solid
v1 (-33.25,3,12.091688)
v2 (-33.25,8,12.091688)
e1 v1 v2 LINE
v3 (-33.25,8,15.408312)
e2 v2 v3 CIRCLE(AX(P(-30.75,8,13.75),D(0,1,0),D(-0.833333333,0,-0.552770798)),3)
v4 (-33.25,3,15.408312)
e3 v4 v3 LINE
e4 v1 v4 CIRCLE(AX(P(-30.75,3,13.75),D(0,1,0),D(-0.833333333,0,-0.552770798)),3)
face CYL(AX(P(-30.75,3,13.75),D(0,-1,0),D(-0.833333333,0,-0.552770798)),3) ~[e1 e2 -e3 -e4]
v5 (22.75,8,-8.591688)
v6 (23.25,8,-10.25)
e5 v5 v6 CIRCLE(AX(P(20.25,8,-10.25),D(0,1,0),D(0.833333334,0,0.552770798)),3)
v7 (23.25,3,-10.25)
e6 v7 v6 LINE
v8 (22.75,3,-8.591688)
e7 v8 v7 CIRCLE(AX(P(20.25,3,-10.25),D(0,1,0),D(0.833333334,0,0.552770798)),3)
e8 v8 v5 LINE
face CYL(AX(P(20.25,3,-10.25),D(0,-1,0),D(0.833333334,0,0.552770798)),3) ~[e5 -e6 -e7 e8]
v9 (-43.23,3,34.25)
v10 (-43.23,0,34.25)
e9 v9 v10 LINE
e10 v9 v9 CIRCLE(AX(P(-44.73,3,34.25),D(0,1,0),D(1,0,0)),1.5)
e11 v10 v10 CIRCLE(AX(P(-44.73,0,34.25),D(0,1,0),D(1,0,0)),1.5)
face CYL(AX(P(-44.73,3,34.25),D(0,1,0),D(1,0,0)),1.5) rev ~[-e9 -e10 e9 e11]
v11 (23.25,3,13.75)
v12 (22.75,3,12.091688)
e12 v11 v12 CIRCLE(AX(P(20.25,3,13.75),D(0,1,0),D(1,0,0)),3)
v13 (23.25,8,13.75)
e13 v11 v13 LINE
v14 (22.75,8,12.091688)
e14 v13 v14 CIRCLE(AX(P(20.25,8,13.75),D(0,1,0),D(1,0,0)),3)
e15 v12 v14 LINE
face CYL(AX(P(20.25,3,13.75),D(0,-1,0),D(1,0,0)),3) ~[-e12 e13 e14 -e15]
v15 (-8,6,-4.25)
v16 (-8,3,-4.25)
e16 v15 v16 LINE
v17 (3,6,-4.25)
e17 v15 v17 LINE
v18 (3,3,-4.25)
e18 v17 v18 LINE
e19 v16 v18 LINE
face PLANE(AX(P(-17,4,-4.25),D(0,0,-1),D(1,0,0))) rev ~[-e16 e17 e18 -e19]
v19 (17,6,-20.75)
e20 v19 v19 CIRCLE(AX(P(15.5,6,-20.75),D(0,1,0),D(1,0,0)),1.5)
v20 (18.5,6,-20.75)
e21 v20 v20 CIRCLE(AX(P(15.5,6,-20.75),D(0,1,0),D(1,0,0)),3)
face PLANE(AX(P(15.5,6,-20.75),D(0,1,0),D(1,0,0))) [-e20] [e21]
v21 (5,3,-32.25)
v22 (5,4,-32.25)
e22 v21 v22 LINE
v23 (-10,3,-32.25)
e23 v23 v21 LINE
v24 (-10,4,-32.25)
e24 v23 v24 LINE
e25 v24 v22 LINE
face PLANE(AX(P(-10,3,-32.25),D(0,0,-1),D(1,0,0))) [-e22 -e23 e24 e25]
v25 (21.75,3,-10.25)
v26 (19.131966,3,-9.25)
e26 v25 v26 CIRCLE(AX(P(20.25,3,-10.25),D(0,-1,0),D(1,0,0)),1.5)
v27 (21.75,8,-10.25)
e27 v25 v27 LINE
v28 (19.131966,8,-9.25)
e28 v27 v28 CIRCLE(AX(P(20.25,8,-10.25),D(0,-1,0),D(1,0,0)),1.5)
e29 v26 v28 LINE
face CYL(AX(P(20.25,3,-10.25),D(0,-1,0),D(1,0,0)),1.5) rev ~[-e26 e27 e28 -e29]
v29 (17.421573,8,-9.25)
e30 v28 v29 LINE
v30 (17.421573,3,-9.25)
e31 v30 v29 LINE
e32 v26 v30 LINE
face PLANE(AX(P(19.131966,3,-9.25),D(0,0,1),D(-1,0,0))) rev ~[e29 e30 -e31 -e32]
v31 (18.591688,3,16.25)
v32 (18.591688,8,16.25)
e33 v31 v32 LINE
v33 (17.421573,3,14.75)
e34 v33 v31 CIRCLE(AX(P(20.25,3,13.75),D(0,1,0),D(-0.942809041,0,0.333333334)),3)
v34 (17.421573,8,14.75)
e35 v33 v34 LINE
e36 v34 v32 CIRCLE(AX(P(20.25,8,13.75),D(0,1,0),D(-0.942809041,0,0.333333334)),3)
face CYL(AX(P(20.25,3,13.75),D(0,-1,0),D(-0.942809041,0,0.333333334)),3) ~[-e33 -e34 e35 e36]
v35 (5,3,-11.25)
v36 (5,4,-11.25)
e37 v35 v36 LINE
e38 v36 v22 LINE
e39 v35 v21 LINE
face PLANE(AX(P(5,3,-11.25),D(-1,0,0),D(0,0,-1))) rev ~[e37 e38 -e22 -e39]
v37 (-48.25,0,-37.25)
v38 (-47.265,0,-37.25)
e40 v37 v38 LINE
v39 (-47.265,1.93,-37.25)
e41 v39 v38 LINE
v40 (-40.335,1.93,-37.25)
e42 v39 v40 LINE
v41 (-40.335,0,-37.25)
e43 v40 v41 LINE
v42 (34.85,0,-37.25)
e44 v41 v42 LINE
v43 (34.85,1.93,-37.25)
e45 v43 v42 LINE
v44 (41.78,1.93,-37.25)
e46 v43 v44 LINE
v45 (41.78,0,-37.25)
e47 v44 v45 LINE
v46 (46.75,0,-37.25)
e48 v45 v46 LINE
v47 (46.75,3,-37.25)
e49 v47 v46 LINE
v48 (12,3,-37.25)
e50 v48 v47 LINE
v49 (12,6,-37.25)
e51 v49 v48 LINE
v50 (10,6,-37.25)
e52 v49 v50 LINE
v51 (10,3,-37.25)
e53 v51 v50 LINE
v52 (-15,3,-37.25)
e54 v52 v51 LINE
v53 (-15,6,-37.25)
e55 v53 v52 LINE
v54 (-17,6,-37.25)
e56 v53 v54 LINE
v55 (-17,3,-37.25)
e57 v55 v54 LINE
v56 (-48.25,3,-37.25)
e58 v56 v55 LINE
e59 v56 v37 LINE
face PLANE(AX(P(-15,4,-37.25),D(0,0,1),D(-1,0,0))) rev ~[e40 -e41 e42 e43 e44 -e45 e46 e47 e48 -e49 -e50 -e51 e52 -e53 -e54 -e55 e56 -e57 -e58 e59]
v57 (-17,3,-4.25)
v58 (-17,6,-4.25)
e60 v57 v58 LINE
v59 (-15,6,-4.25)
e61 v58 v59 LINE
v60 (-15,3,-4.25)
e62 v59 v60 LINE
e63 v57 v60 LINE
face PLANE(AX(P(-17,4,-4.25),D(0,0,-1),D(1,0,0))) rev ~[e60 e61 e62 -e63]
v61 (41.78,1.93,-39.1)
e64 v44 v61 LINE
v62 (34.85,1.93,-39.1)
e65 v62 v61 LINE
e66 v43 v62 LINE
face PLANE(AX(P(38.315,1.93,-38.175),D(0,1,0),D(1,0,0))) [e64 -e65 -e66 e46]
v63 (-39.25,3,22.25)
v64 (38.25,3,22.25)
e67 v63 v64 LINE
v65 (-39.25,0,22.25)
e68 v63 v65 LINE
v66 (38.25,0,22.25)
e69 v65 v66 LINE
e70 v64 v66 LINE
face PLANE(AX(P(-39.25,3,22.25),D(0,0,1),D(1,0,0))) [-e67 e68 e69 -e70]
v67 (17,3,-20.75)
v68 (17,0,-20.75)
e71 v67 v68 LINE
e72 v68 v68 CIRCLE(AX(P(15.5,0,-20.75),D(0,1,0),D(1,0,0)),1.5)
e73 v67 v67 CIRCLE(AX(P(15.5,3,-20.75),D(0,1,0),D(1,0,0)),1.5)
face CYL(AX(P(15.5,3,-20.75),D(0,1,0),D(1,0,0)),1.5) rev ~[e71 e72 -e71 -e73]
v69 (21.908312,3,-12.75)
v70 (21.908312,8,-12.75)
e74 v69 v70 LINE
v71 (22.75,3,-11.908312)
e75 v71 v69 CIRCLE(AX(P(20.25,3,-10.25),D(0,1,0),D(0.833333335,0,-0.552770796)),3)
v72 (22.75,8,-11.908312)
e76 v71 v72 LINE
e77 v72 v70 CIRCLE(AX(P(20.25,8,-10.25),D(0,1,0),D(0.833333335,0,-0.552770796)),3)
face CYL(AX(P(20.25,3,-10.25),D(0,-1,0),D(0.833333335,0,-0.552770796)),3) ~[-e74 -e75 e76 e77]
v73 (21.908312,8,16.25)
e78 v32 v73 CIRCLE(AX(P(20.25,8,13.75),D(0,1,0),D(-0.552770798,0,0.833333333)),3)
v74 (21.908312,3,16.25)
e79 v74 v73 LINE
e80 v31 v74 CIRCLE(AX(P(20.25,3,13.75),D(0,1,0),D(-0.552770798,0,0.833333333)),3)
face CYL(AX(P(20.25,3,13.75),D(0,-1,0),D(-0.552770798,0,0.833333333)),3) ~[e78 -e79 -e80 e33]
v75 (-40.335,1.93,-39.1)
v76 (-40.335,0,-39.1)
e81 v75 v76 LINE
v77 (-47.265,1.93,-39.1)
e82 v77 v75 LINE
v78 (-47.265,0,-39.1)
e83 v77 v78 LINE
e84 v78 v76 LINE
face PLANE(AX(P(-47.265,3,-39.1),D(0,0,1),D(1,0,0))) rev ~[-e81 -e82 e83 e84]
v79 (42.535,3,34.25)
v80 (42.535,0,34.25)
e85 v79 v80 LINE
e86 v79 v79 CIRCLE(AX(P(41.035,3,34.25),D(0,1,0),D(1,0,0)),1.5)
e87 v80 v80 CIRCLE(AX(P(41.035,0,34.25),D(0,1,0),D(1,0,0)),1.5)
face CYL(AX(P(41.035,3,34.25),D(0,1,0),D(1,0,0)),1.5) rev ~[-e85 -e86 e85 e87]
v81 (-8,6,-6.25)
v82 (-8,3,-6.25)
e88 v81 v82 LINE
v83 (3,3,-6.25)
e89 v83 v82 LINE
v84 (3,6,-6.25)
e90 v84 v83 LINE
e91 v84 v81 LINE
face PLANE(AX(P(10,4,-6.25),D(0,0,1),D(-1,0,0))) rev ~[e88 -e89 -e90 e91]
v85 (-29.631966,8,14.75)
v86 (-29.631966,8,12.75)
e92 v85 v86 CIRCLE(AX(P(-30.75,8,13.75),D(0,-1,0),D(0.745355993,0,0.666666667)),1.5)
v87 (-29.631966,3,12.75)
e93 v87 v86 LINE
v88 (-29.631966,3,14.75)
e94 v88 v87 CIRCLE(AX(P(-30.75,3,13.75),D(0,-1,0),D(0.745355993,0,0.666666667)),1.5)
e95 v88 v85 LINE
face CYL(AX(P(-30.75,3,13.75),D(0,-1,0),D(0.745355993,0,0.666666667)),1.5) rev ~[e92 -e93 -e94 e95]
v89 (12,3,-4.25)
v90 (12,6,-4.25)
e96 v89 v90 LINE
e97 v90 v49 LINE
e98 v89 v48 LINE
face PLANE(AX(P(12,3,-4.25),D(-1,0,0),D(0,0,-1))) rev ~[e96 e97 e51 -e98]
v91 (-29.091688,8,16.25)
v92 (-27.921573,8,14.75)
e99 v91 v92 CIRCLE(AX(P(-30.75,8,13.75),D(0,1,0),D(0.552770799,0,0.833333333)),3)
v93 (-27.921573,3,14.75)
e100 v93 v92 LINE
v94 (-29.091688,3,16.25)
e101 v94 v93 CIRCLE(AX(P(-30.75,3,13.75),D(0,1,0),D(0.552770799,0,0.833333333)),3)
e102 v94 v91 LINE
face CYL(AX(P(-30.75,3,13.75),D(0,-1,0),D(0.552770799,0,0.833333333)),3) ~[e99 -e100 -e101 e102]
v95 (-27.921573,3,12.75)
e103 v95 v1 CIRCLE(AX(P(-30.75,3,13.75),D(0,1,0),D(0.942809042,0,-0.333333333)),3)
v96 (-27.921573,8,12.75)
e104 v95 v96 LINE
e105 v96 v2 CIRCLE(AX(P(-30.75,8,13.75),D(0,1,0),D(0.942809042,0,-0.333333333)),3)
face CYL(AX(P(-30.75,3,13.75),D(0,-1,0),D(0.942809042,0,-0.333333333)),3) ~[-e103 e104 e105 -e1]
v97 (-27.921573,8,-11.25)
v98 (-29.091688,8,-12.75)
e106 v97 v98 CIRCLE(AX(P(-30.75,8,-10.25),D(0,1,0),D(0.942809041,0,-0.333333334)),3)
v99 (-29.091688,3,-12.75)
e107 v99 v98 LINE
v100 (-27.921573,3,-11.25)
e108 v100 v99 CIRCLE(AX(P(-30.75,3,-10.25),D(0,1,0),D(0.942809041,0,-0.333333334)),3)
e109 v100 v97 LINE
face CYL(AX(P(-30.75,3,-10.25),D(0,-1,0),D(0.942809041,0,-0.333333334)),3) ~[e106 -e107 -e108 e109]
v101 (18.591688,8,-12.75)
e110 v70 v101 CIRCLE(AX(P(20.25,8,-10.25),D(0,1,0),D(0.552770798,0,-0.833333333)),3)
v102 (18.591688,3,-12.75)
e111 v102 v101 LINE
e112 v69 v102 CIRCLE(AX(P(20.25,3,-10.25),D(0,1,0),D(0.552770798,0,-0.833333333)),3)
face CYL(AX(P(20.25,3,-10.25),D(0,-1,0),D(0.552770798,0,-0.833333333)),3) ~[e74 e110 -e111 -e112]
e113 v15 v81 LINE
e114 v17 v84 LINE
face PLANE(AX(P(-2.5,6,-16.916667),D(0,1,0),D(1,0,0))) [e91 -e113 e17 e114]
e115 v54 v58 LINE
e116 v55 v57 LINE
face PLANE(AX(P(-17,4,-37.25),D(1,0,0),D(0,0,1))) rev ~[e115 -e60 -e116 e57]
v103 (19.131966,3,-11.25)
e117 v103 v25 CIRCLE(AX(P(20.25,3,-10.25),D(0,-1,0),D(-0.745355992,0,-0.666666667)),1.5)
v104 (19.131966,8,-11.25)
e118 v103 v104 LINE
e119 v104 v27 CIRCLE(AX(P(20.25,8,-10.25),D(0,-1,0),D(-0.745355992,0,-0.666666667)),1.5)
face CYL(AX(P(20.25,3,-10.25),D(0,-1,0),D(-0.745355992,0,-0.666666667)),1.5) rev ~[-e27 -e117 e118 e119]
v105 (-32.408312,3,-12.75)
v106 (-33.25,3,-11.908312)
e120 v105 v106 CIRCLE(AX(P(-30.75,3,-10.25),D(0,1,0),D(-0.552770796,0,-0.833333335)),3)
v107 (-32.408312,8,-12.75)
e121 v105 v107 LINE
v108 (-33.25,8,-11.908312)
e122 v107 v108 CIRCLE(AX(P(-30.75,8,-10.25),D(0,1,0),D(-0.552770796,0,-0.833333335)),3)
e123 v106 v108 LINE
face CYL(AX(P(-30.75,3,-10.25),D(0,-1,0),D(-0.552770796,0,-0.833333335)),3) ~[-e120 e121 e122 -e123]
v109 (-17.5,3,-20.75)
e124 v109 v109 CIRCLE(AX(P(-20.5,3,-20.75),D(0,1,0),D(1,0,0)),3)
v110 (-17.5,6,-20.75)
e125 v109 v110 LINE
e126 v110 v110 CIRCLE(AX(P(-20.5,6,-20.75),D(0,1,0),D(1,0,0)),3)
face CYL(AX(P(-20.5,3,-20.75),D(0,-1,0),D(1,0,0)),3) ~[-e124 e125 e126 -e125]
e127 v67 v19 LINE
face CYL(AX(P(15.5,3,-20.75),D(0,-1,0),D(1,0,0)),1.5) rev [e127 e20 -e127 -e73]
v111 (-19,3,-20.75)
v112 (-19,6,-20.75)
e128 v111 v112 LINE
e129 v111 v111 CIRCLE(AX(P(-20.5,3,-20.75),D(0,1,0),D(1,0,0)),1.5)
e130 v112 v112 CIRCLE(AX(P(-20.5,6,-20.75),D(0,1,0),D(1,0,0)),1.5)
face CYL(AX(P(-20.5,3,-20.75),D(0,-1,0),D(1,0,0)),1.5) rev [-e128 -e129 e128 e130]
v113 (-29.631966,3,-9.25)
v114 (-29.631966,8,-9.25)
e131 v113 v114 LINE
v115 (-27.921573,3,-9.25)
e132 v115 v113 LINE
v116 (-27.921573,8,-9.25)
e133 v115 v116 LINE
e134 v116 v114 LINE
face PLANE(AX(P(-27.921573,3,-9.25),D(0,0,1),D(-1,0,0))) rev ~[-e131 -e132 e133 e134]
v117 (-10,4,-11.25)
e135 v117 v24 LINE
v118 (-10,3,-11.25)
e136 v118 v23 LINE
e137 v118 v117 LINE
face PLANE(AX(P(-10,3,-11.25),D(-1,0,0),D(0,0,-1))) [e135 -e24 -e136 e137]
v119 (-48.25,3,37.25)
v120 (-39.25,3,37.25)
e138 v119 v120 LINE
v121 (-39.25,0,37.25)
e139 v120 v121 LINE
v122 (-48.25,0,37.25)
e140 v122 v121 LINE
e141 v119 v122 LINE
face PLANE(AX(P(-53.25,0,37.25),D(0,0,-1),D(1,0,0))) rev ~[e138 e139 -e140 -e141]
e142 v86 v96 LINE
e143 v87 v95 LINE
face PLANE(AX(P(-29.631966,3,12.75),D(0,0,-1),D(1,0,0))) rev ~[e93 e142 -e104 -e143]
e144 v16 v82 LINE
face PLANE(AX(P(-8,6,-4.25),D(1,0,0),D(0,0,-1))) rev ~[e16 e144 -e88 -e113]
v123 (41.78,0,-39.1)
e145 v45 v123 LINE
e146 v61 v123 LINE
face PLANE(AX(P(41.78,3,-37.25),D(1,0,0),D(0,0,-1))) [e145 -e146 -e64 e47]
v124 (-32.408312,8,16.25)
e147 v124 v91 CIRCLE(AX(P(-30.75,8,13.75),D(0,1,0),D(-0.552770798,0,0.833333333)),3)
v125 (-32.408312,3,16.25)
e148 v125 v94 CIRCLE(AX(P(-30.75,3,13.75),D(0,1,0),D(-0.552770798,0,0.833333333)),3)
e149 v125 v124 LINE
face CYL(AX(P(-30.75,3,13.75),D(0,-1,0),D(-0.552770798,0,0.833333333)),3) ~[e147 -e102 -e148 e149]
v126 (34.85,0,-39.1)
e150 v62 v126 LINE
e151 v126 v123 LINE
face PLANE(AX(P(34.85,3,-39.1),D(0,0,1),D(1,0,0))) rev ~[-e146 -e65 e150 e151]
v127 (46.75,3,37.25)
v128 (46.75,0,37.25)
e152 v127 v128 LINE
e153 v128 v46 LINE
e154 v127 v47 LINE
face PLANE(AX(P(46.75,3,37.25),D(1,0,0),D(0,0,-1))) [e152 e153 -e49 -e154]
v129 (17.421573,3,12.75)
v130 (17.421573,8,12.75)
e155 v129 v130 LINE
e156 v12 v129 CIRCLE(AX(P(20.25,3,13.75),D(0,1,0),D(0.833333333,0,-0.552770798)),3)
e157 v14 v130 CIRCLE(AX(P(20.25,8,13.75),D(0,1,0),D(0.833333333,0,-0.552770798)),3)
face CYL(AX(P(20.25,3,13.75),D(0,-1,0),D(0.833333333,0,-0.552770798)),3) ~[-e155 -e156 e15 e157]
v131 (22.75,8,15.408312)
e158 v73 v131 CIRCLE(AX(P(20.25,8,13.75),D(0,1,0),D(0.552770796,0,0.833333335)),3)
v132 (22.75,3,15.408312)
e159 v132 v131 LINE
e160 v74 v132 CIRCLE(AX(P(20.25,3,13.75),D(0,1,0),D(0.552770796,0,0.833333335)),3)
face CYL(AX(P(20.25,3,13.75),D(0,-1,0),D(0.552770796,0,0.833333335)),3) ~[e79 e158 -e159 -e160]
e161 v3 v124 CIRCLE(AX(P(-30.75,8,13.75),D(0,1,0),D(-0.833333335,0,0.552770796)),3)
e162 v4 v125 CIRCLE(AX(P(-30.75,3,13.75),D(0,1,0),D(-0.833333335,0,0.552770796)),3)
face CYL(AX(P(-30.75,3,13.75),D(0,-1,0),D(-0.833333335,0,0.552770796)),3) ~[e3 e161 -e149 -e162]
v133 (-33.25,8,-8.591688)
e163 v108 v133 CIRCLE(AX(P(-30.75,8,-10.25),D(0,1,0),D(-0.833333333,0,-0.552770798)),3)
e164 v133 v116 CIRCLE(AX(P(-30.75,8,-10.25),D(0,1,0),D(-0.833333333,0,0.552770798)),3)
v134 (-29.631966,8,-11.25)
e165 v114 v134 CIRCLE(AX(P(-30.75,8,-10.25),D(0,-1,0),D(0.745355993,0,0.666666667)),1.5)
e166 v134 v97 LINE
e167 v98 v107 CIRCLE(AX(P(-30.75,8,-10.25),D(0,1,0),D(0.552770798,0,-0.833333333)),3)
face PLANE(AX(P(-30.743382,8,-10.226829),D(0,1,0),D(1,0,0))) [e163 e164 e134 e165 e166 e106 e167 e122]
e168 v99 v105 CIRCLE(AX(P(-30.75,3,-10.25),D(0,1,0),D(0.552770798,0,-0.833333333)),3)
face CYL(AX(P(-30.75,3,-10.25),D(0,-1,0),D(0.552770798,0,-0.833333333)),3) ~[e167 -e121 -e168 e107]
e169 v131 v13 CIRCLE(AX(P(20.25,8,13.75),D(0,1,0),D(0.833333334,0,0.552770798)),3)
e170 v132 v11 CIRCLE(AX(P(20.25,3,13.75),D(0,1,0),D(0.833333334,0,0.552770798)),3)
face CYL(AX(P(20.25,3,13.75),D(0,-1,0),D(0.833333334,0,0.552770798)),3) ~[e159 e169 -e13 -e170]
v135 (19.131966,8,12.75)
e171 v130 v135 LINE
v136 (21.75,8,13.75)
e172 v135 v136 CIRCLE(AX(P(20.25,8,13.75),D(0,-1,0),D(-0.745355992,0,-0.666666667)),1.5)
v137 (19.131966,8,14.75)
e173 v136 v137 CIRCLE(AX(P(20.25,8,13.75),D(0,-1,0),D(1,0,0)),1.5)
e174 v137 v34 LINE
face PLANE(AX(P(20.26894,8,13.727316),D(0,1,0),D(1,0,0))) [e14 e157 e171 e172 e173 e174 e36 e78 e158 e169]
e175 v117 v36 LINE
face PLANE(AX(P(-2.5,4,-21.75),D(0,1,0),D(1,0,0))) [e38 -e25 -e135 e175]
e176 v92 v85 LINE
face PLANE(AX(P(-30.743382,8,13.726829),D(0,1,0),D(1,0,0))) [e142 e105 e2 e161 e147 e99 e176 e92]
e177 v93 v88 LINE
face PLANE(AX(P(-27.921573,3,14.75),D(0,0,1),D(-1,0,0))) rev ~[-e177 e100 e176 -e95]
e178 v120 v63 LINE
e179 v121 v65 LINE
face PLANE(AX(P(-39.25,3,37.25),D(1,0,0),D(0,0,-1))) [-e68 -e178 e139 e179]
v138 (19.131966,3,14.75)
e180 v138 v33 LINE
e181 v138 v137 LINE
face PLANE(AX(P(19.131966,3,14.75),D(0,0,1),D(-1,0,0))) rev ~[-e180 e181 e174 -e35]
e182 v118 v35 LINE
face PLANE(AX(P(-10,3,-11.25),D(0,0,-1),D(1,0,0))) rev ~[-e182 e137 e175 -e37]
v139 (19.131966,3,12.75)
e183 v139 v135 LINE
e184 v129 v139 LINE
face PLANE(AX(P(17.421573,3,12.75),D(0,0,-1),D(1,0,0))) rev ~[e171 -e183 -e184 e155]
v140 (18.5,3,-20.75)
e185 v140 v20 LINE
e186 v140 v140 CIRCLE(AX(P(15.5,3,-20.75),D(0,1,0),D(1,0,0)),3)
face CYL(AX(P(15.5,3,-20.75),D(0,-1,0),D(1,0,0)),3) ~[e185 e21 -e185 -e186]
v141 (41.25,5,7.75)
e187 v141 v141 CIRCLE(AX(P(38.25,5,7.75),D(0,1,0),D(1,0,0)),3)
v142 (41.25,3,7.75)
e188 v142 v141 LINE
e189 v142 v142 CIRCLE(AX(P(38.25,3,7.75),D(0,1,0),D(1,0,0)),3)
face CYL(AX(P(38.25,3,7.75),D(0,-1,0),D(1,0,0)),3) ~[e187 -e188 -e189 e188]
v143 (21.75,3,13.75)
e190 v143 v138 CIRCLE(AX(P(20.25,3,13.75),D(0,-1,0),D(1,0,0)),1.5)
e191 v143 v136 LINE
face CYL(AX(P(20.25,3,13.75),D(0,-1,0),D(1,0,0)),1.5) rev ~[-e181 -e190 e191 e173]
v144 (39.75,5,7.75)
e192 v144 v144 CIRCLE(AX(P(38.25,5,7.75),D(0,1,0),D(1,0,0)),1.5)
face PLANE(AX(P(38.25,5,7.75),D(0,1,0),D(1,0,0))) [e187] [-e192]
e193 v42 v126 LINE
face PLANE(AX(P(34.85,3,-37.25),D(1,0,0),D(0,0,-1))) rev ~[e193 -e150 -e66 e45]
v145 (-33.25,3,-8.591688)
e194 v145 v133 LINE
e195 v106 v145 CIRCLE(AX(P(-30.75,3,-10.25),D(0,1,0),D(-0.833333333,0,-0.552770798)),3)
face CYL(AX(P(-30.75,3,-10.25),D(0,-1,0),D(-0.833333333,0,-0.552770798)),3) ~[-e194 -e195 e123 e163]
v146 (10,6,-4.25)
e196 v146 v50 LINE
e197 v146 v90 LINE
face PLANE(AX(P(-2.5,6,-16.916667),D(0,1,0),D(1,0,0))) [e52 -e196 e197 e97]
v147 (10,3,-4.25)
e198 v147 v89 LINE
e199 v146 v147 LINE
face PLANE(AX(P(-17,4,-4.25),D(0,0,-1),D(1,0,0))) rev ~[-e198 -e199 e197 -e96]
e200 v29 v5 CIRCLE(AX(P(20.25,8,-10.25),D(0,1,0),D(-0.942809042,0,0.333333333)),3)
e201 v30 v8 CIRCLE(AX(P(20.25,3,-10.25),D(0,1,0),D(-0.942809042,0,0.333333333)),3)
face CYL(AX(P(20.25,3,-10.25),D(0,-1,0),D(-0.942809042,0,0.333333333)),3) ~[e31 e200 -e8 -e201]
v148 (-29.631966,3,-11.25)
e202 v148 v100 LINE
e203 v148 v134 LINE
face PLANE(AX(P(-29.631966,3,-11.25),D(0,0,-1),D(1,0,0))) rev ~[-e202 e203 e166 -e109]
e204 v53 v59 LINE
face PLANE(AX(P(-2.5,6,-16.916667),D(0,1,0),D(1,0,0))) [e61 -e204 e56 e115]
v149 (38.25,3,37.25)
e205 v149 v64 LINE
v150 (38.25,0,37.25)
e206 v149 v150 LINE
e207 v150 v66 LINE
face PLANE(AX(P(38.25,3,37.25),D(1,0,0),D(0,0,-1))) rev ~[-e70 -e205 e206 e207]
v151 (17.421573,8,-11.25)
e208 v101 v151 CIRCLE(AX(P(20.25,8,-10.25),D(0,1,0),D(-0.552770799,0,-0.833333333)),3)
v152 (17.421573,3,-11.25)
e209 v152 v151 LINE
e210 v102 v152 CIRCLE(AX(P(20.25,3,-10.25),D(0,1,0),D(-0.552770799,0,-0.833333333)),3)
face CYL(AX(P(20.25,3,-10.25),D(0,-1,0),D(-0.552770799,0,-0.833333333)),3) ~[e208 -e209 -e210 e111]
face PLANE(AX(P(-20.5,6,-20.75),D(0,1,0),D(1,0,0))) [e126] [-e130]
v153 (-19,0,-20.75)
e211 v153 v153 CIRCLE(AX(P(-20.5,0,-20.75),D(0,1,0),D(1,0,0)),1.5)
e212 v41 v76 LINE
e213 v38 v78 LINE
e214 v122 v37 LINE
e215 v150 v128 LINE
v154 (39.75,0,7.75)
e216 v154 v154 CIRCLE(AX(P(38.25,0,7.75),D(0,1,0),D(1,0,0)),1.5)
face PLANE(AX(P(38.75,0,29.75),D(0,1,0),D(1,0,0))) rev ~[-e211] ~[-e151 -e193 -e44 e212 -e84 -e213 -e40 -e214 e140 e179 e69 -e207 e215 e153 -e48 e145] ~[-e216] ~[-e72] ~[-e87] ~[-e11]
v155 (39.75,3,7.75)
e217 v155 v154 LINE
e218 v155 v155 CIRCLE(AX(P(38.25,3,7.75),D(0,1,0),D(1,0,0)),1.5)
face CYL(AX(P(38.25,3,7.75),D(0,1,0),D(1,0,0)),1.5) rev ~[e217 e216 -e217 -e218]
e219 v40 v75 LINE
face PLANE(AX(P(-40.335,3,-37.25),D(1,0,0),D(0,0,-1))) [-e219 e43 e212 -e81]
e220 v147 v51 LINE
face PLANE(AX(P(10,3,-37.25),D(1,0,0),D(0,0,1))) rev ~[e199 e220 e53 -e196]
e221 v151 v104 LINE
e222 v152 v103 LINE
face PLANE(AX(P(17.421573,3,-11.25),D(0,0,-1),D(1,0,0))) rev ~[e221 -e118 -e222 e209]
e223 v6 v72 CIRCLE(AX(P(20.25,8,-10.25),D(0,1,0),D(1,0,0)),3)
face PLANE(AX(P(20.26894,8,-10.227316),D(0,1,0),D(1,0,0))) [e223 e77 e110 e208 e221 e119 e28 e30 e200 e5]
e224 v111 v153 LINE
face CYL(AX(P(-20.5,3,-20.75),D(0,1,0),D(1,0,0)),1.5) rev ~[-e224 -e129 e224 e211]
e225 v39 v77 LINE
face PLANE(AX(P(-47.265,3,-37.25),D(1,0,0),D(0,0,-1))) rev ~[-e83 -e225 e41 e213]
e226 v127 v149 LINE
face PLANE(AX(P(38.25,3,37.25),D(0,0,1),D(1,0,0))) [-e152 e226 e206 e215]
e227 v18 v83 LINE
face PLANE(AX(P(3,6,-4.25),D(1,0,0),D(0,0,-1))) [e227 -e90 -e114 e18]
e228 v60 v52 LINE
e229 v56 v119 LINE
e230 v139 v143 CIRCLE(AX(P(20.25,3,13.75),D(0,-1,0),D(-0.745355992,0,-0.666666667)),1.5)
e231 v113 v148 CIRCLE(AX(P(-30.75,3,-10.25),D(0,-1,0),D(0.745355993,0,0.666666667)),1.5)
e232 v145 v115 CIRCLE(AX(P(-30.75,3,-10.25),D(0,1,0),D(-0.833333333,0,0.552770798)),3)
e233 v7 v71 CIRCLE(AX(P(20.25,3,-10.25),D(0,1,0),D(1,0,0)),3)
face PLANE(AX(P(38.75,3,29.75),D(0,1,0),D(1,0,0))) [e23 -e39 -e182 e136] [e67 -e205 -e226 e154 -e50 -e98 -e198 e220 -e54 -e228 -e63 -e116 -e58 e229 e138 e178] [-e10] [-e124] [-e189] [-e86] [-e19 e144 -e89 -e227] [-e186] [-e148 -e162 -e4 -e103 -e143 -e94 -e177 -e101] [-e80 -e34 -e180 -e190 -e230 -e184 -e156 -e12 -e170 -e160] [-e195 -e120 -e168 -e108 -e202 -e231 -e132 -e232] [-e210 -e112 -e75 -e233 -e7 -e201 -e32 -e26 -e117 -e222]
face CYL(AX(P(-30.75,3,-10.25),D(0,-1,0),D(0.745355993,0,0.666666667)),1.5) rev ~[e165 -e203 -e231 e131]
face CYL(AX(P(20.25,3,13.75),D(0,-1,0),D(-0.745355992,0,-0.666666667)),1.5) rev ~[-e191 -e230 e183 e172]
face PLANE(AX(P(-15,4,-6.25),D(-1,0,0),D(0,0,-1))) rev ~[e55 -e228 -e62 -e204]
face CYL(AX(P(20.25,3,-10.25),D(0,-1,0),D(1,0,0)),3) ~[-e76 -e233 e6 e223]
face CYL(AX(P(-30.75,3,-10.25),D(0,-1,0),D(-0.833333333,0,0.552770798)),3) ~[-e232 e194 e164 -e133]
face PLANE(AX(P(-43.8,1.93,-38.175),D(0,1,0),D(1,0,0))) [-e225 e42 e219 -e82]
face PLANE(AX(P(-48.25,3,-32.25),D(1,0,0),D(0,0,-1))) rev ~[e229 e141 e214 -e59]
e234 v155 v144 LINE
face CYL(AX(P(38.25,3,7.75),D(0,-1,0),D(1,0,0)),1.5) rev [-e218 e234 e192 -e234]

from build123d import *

# Parameters (mm, degrees)
SKETCH1_W            = 106.5
SKETCH1_H            = 74.5
BOSS_EXTRUDE1_DEPTH  = 3
SKETCH2_W            = 6.93
SKETCH2_H            = 1.85
BOSS_EXTRUDE2_DEPTH  = 3
SKETCH3_W            = 6.93
SKETCH3_H            = 1.85
CUT_EXTRUDE1_DEPTH   = 1.07
SKETCH4_W            = 5
SKETCH4_H            = 64.5
SKETCH4_W_2          = 78.5
SKETCH4_H_2          = 15
CUT_EXTRUDE2_DEPTH   = 3
SKETCH5_R            = 3.5
CUT_EXTRUDE3_DEPTH   = 3
BOSS_EXTRUDE5_DEPTH  = 5
SKETCH9_R            = 3
SKETCH9_R_2          = 1.5
BOSS_EXTRUDE6_DEPTH  = 2
SKETCH10_W           = 15
SKETCH10_H           = 21
BOSS_EXTRUDE7_DEPTH  = 1
BOSS_EXTRUDE8_DEPTH  = 2
SKETCH12_W           = 5
SKETCH12_H           = 5
CUT_EXTRUDE4_DEPTH   = 4
SKETCH14_W           = 4
SKETCH14_H           = 75.31405771
CUT_EXTRUDE5_DEPTH   = 10
SKETCH15_R           = 3
SKETCH15_R_2         = 1.5
BOSS_EXTRUDE9_DEPTH  = 3
SKETCH16_R           = 1.5
CUT_EXTRUDE6_DEPTH   = 3
SKETCH17_R           = 1.5
CUT_EXTRUDE7_DEPTH   = 3
SKETCH18_W           = 7
SKETCH18_H           = 2
CUT_EXTRUDE8_DEPTH   = 3
SKETCH19_R           = 1.5
CUT_EXTRUDE9_DEPTH   = 3
SKETCH20_W           = 3
SKETCH20_H           = 74.5
CUT_EXTRUDE10_DEPTH  = 8
SKETCH21_W           = 1
SKETCH21_H           = 15
BOSS_EXTRUDE10_DEPTH = 3


with BuildPart() as part:
    # Sketch1 → Boss-Extrude1 (new body)
    with BuildSketch(Plane(origin=(0, 0, 0), x_dir=(1, 0, 0), z_dir=(0, 1, 0))):
        Rectangle(SKETCH1_W, SKETCH1_H)
    extrude(amount=BOSS_EXTRUDE1_DEPTH)

    # Sketch2 → Boss-Extrude2 (add)
    with BuildSketch(Plane(origin=(0, 3, 0), x_dir=(1, 0, 0), z_dir=(0, 1, 0))):
        with Locations((-43.8, 38.175)):
            Rectangle(SKETCH2_W, SKETCH2_H)
        with Locations((38.315, 38.175)):
            Rectangle(SKETCH2_W, SKETCH2_H)
    extrude(amount=-BOSS_EXTRUDE2_DEPTH)

    # Sketch3 → Cut-Extrude1 (cut)
    with BuildSketch(Plane(origin=(0, 3, 0), x_dir=(1, 0, 0), z_dir=(0, 1, 0))):
        with Locations((-43.8, 38.175)):
            Rectangle(SKETCH3_W, SKETCH3_H)
        with Locations((38.315, 38.175)):
            Rectangle(SKETCH3_W, SKETCH3_H)
    extrude(amount=-CUT_EXTRUDE1_DEPTH, mode=Mode.SUBTRACT)

    # Sketch4 → Cut-Extrude2 (cut)
    with BuildSketch(Plane(origin=(0, 3, 0), x_dir=(1, 0, 0), z_dir=(0, 1, 0))):
        with Locations((-50.75, 0)):
            Rectangle(SKETCH4_W, SKETCH4_H)
        with Locations((0, -29.75)):
            Rectangle(SKETCH4_W_2, SKETCH4_H_2)
    extrude(amount=-CUT_EXTRUDE2_DEPTH, mode=Mode.SUBTRACT)

    # Sketch5 → Cut-Extrude3 (cut)
    with BuildSketch(Plane(origin=(0, 3, 0), x_dir=(1, 0, 0), z_dir=(0, 1, 0))):
        with Locations((-53.25, -37.25)):
            Circle(SKETCH5_R)
        with Locations((53.25, -37.25)):
            Circle(SKETCH5_R)
        with Locations((53.25, 37.25)):
            Circle(SKETCH5_R)
        with Locations((-53.25, 37.25)):
            Circle(SKETCH5_R)
    extrude(amount=-CUT_EXTRUDE3_DEPTH, mode=Mode.SUBTRACT)

    # Sketch6 → Boss-Extrude5 (add)
    with BuildSketch(Plane(origin=(0, 3, 0), x_dir=(1, 0, 0), z_dir=(0, 1, 0))):
        with BuildLine():
            Line((-29.091687605, 12.75), (-32.408312395, 12.75))
            ThreePointArc((-32.408312395, 12.75), (-32.871320344, 12.371320344), (-33.25, 11.908312395))
            Line((-33.25, 11.908312395), (-33.25, 8.591687605))
            ThreePointArc((-33.25, 8.591687605), (-30.382155065, 7.272637055), (-27.921572875, 9.25))
            Line((-27.921572875, 9.25), (-29.631966011, 9.25))
            ThreePointArc((-29.631966011, 9.25), (-32.25, 10.25), (-29.631966011, 11.25))
            Line((-29.631966011, 11.25), (-27.921572875, 11.25))
            ThreePointArc((-27.921572875, 11.25), (-28.384580824, 12.09520788), (-29.091687605, 12.75))
        make_face()
        with BuildLine():
            Line((-33.25, 8.591687605), (-33.25, 11.908312395))
            ThreePointArc((-33.25, 11.908312395), (-33.75, 10.25), (-33.25, 8.591687605))
        make_face()
        with BuildLine():
            ThreePointArc((-29.091687605, 12.75), (-30.75, 13.25), (-32.408312395, 12.75))
            Line((-32.408312395, 12.75), (-29.091687605, 12.75))
        make_face()
        with BuildLine():
            ThreePointArc((-27.921572875, -12.75), (-30.382155065, -10.772637055), (-33.25, -12.091687605))
            Line((-33.25, -12.091687605), (-33.25, -15.408312395))
            ThreePointArc((-33.25, -15.408312395), (-32.871320344, -15.871320344), (-32.408312395, -16.25))
            Line((-32.408312395, -16.25), (-29.091687605, -16.25))
            ThreePointArc((-29.091687605, -16.25), (-28.384580824, -15.59520788), (-27.921572875, -14.75))
            Line((-27.921572875, -14.75), (-29.631966011, -14.75))
            ThreePointArc((-29.631966011, -14.75), (-32.25, -13.75), (-29.631966011, -12.75))
            Line((-29.631966011, -12.75), (-27.921572875, -12.75))
        make_face()
        with BuildLine():
            Line((-33.25, -15.408312395), (-33.25, -12.091687605))
            ThreePointArc((-33.25, -12.091687605), (-33.75, -13.75), (-33.25, -15.408312395))
        make_face()
        with BuildLine():
            Line((-29.091687605, -16.25), (-32.408312395, -16.25))
            ThreePointArc((-32.408312395, -16.25), (-30.75, -16.75), (-29.091687605, -16.25))
        make_face()
        with BuildLine():
            Line((22.75, -15.408312395), (22.75, -12.091687605))
            ThreePointArc((22.75, -12.091687605), (19.882155065, -10.772637055), (17.421572875, -12.75))
            Line((17.421572875, -12.75), (19.131966011, -12.75))
            ThreePointArc((19.131966011, -12.75), (20.785233135, -12.348741462), (21.75, -13.75))
            ThreePointArc((21.75, -13.75), (20.785233135, -15.151258538), (19.131966011, -14.75))
            Line((19.131966011, -14.75), (17.421572875, -14.75))
            ThreePointArc((17.421572875, -14.75), (17.884580824, -15.59520788), (18.591687605, -16.25))
            Line((18.591687605, -16.25), (21.908312395, -16.25))
            ThreePointArc((21.908312395, -16.25), (22.371320344, -15.871320344), (22.75, -15.408312395))
        make_face()
        with BuildLine():
            Line((21.908312395, -16.25), (18.591687605, -16.25))
            ThreePointArc((18.591687605, -16.25), (20.25, -16.75), (21.908312395, -16.25))
        make_face()
        with BuildLine():
            ThreePointArc((23.25, -13.75), (23.122281323, -12.883974596), (22.75, -12.091687605))
            Line((22.75, -12.091687605), (22.75, -15.408312395))
            ThreePointArc((22.75, -15.408312395), (23.122281323, -14.616025404), (23.25, -13.75))
        make_face()
        with BuildLine():
            Line((21.908312395, 12.75), (18.591687605, 12.75))
            ThreePointArc((18.591687605, 12.75), (17.884580824, 12.09520788), (17.421572875, 11.25))
            Line((17.421572875, 11.25), (19.131966011, 11.25))
            ThreePointArc((19.131966011, 11.25), (20.785233135, 11.651258538), (21.75, 10.25))
            ThreePointArc((21.75, 10.25), (20.785233135, 8.848741462), (19.131966011, 9.25))
            Line((19.131966011, 9.25), (17.421572875, 9.25))
            ThreePointArc((17.421572875, 9.25), (19.882155065, 7.272637055), (22.75, 8.591687605))
            Line((22.75, 8.591687605), (22.75, 11.908312395))
            ThreePointArc((22.75, 11.908312395), (22.371320344, 12.371320344), (21.908312395, 12.75))
        make_face()
        with BuildLine():
            ThreePointArc((23.25, 10.25), (23.122281323, 11.116025404), (22.75, 11.908312395))
            Line((22.75, 11.908312395), (22.75, 8.591687605))
            ThreePointArc((22.75, 8.591687605), (23.122281323, 9.383974596), (23.25, 10.25))
        make_face()
        with BuildLine():
            ThreePointArc((21.908312395, 12.75), (20.25, 13.25), (18.591687605, 12.75))
            Line((18.591687605, 12.75), (21.908312395, 12.75))
        make_face()
    extrude(amount=BOSS_EXTRUDE5_DEPTH)

    # Sketch9 → Boss-Extrude6 (add)
    with BuildSketch(Plane(origin=(0, 3, 0), x_dir=(1, 0, 0), z_dir=(0, 1, 0))):
        with Locations((38.25, -7.75)):
            Circle(SKETCH9_R)
        with Locations((38.25, -7.75)):
            Circle(SKETCH9_R_2, mode=Mode.SUBTRACT)
    extrude(amount=BOSS_EXTRUDE6_DEPTH)

    # Sketch10 → Boss-Extrude7 (add)
    with BuildSketch(Plane(origin=(0, 3, 0), x_dir=(1, 0, 0), z_dir=(0, 1, 0))):
        with Locations((-2.5, 21.75)):
            Rectangle(SKETCH10_W, SKETCH10_H)
        Polygon((-15, 6.25), (-15, 37.25), (-17, 37.25), (-17, 4.25), (12, 4.25), (12, 37.25), (10, 37.25), (10, 6.25), align=None)
    extrude(amount=BOSS_EXTRUDE7_DEPTH)

    # Sketch11 → Boss-Extrude8 (add)
    with BuildSketch(Plane(origin=(0, 4, 0), x_dir=(1, 0, 0), z_dir=(0, 1, 0))):
        Polygon((-15, 37.25), (-17, 37.25), (-17, 4.25), (12, 4.25), (12, 37.25), (10, 37.25), (10, 6.25), (-15, 6.25), align=None)
    extrude(amount=BOSS_EXTRUDE8_DEPTH)

    # Sketch12 → Cut-Extrude4 (cut)
    with BuildSketch(Plane(origin=(0, 3, 0), x_dir=(1, 0, 0), z_dir=(0, 1, 0))):
        with Locations((-50.75, 34.75)):
            Rectangle(SKETCH12_W, SKETCH12_H)
        with Locations((-50.75, -34.75)):
            Rectangle(SKETCH12_W, SKETCH12_H)
    extrude(amount=-CUT_EXTRUDE4_DEPTH, mode=Mode.SUBTRACT)

    # Sketch14 → Cut-Extrude5 (cut)
    with BuildSketch(Plane(origin=(0, 3, 0), x_dir=(1, 0, 0), z_dir=(0, 1, 0))):
        with Locations((51.75, 0.407028855)):
            Rectangle(SKETCH14_W, SKETCH14_H)
    extrude(amount=-CUT_EXTRUDE5_DEPTH, mode=Mode.SUBTRACT)

    # Sketch15 → Boss-Extrude9 (add)
    with BuildSketch(Plane(origin=(0, 3, 0), x_dir=(1, 0, 0), z_dir=(0, 1, 0))):
        with Locations((15.5, 20.75)):
            Circle(SKETCH15_R)
        with Locations((15.5, 20.75)):
            Circle(SKETCH15_R_2, mode=Mode.SUBTRACT)
        with Locations((-20.5, 20.75)):
            Circle(SKETCH15_R)
        with Locations((-20.5, 20.75)):
            Circle(SKETCH15_R_2, mode=Mode.SUBTRACT)
    extrude(amount=BOSS_EXTRUDE9_DEPTH)

    # Sketch16 → Cut-Extrude6 (cut)
    with BuildSketch(Plane(origin=(0, 3, 0), x_dir=(1, 0, 0), z_dir=(0, 1, 0))):
        with Locations((15.5, 20.75)):
            Circle(SKETCH16_R)
        with Locations((-20.5, 20.75)):
            Circle(SKETCH16_R)
    extrude(amount=-CUT_EXTRUDE6_DEPTH, mode=Mode.SUBTRACT)

    # Sketch17 → Cut-Extrude7 (cut)
    with BuildSketch(Plane(origin=(0, 3, 0), x_dir=(1, 0, 0), z_dir=(0, 1, 0))):
        with Locations((38.25, -7.75)):
            Circle(SKETCH17_R)
    extrude(amount=-CUT_EXTRUDE7_DEPTH, mode=Mode.SUBTRACT)

    # Sketch18 → Cut-Extrude8 (cut)
    with BuildSketch(Plane(origin=(0, 6, 0), x_dir=(1, 0, 0), z_dir=(0, 1, 0))):
        with Locations((6.5, 5.25)):
            Rectangle(SKETCH18_W, SKETCH18_H)
        with Locations((-11.5, 5.25)):
            Rectangle(SKETCH18_W, SKETCH18_H)
    extrude(amount=-CUT_EXTRUDE8_DEPTH, mode=Mode.SUBTRACT)

    # Sketch19 → Cut-Extrude9 (cut)
    with BuildSketch(Plane(origin=(0, 3, 0), x_dir=(1, 0, 0), z_dir=(0, 1, 0))):
        with Locations((41.035, -34.25)):
            Circle(SKETCH19_R)
        with Locations((-44.73, -34.25)):
            Circle(SKETCH19_R)
    extrude(amount=-CUT_EXTRUDE9_DEPTH, mode=Mode.SUBTRACT)

    # Sketch20 → Cut-Extrude10 (cut)
    with BuildSketch(Plane(origin=(0, 3, 0), x_dir=(1, 0, 0), z_dir=(0, 1, 0))):
        with Locations((48.25, 0)):
            Rectangle(SKETCH20_W, SKETCH20_H)
    extrude(amount=-CUT_EXTRUDE10_DEPTH, mode=Mode.SUBTRACT)

    # Sketch21 → Boss-Extrude10 (add)
    with BuildSketch(Plane(origin=(0, 3, 0), x_dir=(1, 0, 0), z_dir=(0, 1, 0))):
        with Locations((38.75, -29.75)):
            Rectangle(SKETCH21_W, SKETCH21_H)
    extrude(amount=-BOSS_EXTRUDE10_DEPTH)


solid = part.part
